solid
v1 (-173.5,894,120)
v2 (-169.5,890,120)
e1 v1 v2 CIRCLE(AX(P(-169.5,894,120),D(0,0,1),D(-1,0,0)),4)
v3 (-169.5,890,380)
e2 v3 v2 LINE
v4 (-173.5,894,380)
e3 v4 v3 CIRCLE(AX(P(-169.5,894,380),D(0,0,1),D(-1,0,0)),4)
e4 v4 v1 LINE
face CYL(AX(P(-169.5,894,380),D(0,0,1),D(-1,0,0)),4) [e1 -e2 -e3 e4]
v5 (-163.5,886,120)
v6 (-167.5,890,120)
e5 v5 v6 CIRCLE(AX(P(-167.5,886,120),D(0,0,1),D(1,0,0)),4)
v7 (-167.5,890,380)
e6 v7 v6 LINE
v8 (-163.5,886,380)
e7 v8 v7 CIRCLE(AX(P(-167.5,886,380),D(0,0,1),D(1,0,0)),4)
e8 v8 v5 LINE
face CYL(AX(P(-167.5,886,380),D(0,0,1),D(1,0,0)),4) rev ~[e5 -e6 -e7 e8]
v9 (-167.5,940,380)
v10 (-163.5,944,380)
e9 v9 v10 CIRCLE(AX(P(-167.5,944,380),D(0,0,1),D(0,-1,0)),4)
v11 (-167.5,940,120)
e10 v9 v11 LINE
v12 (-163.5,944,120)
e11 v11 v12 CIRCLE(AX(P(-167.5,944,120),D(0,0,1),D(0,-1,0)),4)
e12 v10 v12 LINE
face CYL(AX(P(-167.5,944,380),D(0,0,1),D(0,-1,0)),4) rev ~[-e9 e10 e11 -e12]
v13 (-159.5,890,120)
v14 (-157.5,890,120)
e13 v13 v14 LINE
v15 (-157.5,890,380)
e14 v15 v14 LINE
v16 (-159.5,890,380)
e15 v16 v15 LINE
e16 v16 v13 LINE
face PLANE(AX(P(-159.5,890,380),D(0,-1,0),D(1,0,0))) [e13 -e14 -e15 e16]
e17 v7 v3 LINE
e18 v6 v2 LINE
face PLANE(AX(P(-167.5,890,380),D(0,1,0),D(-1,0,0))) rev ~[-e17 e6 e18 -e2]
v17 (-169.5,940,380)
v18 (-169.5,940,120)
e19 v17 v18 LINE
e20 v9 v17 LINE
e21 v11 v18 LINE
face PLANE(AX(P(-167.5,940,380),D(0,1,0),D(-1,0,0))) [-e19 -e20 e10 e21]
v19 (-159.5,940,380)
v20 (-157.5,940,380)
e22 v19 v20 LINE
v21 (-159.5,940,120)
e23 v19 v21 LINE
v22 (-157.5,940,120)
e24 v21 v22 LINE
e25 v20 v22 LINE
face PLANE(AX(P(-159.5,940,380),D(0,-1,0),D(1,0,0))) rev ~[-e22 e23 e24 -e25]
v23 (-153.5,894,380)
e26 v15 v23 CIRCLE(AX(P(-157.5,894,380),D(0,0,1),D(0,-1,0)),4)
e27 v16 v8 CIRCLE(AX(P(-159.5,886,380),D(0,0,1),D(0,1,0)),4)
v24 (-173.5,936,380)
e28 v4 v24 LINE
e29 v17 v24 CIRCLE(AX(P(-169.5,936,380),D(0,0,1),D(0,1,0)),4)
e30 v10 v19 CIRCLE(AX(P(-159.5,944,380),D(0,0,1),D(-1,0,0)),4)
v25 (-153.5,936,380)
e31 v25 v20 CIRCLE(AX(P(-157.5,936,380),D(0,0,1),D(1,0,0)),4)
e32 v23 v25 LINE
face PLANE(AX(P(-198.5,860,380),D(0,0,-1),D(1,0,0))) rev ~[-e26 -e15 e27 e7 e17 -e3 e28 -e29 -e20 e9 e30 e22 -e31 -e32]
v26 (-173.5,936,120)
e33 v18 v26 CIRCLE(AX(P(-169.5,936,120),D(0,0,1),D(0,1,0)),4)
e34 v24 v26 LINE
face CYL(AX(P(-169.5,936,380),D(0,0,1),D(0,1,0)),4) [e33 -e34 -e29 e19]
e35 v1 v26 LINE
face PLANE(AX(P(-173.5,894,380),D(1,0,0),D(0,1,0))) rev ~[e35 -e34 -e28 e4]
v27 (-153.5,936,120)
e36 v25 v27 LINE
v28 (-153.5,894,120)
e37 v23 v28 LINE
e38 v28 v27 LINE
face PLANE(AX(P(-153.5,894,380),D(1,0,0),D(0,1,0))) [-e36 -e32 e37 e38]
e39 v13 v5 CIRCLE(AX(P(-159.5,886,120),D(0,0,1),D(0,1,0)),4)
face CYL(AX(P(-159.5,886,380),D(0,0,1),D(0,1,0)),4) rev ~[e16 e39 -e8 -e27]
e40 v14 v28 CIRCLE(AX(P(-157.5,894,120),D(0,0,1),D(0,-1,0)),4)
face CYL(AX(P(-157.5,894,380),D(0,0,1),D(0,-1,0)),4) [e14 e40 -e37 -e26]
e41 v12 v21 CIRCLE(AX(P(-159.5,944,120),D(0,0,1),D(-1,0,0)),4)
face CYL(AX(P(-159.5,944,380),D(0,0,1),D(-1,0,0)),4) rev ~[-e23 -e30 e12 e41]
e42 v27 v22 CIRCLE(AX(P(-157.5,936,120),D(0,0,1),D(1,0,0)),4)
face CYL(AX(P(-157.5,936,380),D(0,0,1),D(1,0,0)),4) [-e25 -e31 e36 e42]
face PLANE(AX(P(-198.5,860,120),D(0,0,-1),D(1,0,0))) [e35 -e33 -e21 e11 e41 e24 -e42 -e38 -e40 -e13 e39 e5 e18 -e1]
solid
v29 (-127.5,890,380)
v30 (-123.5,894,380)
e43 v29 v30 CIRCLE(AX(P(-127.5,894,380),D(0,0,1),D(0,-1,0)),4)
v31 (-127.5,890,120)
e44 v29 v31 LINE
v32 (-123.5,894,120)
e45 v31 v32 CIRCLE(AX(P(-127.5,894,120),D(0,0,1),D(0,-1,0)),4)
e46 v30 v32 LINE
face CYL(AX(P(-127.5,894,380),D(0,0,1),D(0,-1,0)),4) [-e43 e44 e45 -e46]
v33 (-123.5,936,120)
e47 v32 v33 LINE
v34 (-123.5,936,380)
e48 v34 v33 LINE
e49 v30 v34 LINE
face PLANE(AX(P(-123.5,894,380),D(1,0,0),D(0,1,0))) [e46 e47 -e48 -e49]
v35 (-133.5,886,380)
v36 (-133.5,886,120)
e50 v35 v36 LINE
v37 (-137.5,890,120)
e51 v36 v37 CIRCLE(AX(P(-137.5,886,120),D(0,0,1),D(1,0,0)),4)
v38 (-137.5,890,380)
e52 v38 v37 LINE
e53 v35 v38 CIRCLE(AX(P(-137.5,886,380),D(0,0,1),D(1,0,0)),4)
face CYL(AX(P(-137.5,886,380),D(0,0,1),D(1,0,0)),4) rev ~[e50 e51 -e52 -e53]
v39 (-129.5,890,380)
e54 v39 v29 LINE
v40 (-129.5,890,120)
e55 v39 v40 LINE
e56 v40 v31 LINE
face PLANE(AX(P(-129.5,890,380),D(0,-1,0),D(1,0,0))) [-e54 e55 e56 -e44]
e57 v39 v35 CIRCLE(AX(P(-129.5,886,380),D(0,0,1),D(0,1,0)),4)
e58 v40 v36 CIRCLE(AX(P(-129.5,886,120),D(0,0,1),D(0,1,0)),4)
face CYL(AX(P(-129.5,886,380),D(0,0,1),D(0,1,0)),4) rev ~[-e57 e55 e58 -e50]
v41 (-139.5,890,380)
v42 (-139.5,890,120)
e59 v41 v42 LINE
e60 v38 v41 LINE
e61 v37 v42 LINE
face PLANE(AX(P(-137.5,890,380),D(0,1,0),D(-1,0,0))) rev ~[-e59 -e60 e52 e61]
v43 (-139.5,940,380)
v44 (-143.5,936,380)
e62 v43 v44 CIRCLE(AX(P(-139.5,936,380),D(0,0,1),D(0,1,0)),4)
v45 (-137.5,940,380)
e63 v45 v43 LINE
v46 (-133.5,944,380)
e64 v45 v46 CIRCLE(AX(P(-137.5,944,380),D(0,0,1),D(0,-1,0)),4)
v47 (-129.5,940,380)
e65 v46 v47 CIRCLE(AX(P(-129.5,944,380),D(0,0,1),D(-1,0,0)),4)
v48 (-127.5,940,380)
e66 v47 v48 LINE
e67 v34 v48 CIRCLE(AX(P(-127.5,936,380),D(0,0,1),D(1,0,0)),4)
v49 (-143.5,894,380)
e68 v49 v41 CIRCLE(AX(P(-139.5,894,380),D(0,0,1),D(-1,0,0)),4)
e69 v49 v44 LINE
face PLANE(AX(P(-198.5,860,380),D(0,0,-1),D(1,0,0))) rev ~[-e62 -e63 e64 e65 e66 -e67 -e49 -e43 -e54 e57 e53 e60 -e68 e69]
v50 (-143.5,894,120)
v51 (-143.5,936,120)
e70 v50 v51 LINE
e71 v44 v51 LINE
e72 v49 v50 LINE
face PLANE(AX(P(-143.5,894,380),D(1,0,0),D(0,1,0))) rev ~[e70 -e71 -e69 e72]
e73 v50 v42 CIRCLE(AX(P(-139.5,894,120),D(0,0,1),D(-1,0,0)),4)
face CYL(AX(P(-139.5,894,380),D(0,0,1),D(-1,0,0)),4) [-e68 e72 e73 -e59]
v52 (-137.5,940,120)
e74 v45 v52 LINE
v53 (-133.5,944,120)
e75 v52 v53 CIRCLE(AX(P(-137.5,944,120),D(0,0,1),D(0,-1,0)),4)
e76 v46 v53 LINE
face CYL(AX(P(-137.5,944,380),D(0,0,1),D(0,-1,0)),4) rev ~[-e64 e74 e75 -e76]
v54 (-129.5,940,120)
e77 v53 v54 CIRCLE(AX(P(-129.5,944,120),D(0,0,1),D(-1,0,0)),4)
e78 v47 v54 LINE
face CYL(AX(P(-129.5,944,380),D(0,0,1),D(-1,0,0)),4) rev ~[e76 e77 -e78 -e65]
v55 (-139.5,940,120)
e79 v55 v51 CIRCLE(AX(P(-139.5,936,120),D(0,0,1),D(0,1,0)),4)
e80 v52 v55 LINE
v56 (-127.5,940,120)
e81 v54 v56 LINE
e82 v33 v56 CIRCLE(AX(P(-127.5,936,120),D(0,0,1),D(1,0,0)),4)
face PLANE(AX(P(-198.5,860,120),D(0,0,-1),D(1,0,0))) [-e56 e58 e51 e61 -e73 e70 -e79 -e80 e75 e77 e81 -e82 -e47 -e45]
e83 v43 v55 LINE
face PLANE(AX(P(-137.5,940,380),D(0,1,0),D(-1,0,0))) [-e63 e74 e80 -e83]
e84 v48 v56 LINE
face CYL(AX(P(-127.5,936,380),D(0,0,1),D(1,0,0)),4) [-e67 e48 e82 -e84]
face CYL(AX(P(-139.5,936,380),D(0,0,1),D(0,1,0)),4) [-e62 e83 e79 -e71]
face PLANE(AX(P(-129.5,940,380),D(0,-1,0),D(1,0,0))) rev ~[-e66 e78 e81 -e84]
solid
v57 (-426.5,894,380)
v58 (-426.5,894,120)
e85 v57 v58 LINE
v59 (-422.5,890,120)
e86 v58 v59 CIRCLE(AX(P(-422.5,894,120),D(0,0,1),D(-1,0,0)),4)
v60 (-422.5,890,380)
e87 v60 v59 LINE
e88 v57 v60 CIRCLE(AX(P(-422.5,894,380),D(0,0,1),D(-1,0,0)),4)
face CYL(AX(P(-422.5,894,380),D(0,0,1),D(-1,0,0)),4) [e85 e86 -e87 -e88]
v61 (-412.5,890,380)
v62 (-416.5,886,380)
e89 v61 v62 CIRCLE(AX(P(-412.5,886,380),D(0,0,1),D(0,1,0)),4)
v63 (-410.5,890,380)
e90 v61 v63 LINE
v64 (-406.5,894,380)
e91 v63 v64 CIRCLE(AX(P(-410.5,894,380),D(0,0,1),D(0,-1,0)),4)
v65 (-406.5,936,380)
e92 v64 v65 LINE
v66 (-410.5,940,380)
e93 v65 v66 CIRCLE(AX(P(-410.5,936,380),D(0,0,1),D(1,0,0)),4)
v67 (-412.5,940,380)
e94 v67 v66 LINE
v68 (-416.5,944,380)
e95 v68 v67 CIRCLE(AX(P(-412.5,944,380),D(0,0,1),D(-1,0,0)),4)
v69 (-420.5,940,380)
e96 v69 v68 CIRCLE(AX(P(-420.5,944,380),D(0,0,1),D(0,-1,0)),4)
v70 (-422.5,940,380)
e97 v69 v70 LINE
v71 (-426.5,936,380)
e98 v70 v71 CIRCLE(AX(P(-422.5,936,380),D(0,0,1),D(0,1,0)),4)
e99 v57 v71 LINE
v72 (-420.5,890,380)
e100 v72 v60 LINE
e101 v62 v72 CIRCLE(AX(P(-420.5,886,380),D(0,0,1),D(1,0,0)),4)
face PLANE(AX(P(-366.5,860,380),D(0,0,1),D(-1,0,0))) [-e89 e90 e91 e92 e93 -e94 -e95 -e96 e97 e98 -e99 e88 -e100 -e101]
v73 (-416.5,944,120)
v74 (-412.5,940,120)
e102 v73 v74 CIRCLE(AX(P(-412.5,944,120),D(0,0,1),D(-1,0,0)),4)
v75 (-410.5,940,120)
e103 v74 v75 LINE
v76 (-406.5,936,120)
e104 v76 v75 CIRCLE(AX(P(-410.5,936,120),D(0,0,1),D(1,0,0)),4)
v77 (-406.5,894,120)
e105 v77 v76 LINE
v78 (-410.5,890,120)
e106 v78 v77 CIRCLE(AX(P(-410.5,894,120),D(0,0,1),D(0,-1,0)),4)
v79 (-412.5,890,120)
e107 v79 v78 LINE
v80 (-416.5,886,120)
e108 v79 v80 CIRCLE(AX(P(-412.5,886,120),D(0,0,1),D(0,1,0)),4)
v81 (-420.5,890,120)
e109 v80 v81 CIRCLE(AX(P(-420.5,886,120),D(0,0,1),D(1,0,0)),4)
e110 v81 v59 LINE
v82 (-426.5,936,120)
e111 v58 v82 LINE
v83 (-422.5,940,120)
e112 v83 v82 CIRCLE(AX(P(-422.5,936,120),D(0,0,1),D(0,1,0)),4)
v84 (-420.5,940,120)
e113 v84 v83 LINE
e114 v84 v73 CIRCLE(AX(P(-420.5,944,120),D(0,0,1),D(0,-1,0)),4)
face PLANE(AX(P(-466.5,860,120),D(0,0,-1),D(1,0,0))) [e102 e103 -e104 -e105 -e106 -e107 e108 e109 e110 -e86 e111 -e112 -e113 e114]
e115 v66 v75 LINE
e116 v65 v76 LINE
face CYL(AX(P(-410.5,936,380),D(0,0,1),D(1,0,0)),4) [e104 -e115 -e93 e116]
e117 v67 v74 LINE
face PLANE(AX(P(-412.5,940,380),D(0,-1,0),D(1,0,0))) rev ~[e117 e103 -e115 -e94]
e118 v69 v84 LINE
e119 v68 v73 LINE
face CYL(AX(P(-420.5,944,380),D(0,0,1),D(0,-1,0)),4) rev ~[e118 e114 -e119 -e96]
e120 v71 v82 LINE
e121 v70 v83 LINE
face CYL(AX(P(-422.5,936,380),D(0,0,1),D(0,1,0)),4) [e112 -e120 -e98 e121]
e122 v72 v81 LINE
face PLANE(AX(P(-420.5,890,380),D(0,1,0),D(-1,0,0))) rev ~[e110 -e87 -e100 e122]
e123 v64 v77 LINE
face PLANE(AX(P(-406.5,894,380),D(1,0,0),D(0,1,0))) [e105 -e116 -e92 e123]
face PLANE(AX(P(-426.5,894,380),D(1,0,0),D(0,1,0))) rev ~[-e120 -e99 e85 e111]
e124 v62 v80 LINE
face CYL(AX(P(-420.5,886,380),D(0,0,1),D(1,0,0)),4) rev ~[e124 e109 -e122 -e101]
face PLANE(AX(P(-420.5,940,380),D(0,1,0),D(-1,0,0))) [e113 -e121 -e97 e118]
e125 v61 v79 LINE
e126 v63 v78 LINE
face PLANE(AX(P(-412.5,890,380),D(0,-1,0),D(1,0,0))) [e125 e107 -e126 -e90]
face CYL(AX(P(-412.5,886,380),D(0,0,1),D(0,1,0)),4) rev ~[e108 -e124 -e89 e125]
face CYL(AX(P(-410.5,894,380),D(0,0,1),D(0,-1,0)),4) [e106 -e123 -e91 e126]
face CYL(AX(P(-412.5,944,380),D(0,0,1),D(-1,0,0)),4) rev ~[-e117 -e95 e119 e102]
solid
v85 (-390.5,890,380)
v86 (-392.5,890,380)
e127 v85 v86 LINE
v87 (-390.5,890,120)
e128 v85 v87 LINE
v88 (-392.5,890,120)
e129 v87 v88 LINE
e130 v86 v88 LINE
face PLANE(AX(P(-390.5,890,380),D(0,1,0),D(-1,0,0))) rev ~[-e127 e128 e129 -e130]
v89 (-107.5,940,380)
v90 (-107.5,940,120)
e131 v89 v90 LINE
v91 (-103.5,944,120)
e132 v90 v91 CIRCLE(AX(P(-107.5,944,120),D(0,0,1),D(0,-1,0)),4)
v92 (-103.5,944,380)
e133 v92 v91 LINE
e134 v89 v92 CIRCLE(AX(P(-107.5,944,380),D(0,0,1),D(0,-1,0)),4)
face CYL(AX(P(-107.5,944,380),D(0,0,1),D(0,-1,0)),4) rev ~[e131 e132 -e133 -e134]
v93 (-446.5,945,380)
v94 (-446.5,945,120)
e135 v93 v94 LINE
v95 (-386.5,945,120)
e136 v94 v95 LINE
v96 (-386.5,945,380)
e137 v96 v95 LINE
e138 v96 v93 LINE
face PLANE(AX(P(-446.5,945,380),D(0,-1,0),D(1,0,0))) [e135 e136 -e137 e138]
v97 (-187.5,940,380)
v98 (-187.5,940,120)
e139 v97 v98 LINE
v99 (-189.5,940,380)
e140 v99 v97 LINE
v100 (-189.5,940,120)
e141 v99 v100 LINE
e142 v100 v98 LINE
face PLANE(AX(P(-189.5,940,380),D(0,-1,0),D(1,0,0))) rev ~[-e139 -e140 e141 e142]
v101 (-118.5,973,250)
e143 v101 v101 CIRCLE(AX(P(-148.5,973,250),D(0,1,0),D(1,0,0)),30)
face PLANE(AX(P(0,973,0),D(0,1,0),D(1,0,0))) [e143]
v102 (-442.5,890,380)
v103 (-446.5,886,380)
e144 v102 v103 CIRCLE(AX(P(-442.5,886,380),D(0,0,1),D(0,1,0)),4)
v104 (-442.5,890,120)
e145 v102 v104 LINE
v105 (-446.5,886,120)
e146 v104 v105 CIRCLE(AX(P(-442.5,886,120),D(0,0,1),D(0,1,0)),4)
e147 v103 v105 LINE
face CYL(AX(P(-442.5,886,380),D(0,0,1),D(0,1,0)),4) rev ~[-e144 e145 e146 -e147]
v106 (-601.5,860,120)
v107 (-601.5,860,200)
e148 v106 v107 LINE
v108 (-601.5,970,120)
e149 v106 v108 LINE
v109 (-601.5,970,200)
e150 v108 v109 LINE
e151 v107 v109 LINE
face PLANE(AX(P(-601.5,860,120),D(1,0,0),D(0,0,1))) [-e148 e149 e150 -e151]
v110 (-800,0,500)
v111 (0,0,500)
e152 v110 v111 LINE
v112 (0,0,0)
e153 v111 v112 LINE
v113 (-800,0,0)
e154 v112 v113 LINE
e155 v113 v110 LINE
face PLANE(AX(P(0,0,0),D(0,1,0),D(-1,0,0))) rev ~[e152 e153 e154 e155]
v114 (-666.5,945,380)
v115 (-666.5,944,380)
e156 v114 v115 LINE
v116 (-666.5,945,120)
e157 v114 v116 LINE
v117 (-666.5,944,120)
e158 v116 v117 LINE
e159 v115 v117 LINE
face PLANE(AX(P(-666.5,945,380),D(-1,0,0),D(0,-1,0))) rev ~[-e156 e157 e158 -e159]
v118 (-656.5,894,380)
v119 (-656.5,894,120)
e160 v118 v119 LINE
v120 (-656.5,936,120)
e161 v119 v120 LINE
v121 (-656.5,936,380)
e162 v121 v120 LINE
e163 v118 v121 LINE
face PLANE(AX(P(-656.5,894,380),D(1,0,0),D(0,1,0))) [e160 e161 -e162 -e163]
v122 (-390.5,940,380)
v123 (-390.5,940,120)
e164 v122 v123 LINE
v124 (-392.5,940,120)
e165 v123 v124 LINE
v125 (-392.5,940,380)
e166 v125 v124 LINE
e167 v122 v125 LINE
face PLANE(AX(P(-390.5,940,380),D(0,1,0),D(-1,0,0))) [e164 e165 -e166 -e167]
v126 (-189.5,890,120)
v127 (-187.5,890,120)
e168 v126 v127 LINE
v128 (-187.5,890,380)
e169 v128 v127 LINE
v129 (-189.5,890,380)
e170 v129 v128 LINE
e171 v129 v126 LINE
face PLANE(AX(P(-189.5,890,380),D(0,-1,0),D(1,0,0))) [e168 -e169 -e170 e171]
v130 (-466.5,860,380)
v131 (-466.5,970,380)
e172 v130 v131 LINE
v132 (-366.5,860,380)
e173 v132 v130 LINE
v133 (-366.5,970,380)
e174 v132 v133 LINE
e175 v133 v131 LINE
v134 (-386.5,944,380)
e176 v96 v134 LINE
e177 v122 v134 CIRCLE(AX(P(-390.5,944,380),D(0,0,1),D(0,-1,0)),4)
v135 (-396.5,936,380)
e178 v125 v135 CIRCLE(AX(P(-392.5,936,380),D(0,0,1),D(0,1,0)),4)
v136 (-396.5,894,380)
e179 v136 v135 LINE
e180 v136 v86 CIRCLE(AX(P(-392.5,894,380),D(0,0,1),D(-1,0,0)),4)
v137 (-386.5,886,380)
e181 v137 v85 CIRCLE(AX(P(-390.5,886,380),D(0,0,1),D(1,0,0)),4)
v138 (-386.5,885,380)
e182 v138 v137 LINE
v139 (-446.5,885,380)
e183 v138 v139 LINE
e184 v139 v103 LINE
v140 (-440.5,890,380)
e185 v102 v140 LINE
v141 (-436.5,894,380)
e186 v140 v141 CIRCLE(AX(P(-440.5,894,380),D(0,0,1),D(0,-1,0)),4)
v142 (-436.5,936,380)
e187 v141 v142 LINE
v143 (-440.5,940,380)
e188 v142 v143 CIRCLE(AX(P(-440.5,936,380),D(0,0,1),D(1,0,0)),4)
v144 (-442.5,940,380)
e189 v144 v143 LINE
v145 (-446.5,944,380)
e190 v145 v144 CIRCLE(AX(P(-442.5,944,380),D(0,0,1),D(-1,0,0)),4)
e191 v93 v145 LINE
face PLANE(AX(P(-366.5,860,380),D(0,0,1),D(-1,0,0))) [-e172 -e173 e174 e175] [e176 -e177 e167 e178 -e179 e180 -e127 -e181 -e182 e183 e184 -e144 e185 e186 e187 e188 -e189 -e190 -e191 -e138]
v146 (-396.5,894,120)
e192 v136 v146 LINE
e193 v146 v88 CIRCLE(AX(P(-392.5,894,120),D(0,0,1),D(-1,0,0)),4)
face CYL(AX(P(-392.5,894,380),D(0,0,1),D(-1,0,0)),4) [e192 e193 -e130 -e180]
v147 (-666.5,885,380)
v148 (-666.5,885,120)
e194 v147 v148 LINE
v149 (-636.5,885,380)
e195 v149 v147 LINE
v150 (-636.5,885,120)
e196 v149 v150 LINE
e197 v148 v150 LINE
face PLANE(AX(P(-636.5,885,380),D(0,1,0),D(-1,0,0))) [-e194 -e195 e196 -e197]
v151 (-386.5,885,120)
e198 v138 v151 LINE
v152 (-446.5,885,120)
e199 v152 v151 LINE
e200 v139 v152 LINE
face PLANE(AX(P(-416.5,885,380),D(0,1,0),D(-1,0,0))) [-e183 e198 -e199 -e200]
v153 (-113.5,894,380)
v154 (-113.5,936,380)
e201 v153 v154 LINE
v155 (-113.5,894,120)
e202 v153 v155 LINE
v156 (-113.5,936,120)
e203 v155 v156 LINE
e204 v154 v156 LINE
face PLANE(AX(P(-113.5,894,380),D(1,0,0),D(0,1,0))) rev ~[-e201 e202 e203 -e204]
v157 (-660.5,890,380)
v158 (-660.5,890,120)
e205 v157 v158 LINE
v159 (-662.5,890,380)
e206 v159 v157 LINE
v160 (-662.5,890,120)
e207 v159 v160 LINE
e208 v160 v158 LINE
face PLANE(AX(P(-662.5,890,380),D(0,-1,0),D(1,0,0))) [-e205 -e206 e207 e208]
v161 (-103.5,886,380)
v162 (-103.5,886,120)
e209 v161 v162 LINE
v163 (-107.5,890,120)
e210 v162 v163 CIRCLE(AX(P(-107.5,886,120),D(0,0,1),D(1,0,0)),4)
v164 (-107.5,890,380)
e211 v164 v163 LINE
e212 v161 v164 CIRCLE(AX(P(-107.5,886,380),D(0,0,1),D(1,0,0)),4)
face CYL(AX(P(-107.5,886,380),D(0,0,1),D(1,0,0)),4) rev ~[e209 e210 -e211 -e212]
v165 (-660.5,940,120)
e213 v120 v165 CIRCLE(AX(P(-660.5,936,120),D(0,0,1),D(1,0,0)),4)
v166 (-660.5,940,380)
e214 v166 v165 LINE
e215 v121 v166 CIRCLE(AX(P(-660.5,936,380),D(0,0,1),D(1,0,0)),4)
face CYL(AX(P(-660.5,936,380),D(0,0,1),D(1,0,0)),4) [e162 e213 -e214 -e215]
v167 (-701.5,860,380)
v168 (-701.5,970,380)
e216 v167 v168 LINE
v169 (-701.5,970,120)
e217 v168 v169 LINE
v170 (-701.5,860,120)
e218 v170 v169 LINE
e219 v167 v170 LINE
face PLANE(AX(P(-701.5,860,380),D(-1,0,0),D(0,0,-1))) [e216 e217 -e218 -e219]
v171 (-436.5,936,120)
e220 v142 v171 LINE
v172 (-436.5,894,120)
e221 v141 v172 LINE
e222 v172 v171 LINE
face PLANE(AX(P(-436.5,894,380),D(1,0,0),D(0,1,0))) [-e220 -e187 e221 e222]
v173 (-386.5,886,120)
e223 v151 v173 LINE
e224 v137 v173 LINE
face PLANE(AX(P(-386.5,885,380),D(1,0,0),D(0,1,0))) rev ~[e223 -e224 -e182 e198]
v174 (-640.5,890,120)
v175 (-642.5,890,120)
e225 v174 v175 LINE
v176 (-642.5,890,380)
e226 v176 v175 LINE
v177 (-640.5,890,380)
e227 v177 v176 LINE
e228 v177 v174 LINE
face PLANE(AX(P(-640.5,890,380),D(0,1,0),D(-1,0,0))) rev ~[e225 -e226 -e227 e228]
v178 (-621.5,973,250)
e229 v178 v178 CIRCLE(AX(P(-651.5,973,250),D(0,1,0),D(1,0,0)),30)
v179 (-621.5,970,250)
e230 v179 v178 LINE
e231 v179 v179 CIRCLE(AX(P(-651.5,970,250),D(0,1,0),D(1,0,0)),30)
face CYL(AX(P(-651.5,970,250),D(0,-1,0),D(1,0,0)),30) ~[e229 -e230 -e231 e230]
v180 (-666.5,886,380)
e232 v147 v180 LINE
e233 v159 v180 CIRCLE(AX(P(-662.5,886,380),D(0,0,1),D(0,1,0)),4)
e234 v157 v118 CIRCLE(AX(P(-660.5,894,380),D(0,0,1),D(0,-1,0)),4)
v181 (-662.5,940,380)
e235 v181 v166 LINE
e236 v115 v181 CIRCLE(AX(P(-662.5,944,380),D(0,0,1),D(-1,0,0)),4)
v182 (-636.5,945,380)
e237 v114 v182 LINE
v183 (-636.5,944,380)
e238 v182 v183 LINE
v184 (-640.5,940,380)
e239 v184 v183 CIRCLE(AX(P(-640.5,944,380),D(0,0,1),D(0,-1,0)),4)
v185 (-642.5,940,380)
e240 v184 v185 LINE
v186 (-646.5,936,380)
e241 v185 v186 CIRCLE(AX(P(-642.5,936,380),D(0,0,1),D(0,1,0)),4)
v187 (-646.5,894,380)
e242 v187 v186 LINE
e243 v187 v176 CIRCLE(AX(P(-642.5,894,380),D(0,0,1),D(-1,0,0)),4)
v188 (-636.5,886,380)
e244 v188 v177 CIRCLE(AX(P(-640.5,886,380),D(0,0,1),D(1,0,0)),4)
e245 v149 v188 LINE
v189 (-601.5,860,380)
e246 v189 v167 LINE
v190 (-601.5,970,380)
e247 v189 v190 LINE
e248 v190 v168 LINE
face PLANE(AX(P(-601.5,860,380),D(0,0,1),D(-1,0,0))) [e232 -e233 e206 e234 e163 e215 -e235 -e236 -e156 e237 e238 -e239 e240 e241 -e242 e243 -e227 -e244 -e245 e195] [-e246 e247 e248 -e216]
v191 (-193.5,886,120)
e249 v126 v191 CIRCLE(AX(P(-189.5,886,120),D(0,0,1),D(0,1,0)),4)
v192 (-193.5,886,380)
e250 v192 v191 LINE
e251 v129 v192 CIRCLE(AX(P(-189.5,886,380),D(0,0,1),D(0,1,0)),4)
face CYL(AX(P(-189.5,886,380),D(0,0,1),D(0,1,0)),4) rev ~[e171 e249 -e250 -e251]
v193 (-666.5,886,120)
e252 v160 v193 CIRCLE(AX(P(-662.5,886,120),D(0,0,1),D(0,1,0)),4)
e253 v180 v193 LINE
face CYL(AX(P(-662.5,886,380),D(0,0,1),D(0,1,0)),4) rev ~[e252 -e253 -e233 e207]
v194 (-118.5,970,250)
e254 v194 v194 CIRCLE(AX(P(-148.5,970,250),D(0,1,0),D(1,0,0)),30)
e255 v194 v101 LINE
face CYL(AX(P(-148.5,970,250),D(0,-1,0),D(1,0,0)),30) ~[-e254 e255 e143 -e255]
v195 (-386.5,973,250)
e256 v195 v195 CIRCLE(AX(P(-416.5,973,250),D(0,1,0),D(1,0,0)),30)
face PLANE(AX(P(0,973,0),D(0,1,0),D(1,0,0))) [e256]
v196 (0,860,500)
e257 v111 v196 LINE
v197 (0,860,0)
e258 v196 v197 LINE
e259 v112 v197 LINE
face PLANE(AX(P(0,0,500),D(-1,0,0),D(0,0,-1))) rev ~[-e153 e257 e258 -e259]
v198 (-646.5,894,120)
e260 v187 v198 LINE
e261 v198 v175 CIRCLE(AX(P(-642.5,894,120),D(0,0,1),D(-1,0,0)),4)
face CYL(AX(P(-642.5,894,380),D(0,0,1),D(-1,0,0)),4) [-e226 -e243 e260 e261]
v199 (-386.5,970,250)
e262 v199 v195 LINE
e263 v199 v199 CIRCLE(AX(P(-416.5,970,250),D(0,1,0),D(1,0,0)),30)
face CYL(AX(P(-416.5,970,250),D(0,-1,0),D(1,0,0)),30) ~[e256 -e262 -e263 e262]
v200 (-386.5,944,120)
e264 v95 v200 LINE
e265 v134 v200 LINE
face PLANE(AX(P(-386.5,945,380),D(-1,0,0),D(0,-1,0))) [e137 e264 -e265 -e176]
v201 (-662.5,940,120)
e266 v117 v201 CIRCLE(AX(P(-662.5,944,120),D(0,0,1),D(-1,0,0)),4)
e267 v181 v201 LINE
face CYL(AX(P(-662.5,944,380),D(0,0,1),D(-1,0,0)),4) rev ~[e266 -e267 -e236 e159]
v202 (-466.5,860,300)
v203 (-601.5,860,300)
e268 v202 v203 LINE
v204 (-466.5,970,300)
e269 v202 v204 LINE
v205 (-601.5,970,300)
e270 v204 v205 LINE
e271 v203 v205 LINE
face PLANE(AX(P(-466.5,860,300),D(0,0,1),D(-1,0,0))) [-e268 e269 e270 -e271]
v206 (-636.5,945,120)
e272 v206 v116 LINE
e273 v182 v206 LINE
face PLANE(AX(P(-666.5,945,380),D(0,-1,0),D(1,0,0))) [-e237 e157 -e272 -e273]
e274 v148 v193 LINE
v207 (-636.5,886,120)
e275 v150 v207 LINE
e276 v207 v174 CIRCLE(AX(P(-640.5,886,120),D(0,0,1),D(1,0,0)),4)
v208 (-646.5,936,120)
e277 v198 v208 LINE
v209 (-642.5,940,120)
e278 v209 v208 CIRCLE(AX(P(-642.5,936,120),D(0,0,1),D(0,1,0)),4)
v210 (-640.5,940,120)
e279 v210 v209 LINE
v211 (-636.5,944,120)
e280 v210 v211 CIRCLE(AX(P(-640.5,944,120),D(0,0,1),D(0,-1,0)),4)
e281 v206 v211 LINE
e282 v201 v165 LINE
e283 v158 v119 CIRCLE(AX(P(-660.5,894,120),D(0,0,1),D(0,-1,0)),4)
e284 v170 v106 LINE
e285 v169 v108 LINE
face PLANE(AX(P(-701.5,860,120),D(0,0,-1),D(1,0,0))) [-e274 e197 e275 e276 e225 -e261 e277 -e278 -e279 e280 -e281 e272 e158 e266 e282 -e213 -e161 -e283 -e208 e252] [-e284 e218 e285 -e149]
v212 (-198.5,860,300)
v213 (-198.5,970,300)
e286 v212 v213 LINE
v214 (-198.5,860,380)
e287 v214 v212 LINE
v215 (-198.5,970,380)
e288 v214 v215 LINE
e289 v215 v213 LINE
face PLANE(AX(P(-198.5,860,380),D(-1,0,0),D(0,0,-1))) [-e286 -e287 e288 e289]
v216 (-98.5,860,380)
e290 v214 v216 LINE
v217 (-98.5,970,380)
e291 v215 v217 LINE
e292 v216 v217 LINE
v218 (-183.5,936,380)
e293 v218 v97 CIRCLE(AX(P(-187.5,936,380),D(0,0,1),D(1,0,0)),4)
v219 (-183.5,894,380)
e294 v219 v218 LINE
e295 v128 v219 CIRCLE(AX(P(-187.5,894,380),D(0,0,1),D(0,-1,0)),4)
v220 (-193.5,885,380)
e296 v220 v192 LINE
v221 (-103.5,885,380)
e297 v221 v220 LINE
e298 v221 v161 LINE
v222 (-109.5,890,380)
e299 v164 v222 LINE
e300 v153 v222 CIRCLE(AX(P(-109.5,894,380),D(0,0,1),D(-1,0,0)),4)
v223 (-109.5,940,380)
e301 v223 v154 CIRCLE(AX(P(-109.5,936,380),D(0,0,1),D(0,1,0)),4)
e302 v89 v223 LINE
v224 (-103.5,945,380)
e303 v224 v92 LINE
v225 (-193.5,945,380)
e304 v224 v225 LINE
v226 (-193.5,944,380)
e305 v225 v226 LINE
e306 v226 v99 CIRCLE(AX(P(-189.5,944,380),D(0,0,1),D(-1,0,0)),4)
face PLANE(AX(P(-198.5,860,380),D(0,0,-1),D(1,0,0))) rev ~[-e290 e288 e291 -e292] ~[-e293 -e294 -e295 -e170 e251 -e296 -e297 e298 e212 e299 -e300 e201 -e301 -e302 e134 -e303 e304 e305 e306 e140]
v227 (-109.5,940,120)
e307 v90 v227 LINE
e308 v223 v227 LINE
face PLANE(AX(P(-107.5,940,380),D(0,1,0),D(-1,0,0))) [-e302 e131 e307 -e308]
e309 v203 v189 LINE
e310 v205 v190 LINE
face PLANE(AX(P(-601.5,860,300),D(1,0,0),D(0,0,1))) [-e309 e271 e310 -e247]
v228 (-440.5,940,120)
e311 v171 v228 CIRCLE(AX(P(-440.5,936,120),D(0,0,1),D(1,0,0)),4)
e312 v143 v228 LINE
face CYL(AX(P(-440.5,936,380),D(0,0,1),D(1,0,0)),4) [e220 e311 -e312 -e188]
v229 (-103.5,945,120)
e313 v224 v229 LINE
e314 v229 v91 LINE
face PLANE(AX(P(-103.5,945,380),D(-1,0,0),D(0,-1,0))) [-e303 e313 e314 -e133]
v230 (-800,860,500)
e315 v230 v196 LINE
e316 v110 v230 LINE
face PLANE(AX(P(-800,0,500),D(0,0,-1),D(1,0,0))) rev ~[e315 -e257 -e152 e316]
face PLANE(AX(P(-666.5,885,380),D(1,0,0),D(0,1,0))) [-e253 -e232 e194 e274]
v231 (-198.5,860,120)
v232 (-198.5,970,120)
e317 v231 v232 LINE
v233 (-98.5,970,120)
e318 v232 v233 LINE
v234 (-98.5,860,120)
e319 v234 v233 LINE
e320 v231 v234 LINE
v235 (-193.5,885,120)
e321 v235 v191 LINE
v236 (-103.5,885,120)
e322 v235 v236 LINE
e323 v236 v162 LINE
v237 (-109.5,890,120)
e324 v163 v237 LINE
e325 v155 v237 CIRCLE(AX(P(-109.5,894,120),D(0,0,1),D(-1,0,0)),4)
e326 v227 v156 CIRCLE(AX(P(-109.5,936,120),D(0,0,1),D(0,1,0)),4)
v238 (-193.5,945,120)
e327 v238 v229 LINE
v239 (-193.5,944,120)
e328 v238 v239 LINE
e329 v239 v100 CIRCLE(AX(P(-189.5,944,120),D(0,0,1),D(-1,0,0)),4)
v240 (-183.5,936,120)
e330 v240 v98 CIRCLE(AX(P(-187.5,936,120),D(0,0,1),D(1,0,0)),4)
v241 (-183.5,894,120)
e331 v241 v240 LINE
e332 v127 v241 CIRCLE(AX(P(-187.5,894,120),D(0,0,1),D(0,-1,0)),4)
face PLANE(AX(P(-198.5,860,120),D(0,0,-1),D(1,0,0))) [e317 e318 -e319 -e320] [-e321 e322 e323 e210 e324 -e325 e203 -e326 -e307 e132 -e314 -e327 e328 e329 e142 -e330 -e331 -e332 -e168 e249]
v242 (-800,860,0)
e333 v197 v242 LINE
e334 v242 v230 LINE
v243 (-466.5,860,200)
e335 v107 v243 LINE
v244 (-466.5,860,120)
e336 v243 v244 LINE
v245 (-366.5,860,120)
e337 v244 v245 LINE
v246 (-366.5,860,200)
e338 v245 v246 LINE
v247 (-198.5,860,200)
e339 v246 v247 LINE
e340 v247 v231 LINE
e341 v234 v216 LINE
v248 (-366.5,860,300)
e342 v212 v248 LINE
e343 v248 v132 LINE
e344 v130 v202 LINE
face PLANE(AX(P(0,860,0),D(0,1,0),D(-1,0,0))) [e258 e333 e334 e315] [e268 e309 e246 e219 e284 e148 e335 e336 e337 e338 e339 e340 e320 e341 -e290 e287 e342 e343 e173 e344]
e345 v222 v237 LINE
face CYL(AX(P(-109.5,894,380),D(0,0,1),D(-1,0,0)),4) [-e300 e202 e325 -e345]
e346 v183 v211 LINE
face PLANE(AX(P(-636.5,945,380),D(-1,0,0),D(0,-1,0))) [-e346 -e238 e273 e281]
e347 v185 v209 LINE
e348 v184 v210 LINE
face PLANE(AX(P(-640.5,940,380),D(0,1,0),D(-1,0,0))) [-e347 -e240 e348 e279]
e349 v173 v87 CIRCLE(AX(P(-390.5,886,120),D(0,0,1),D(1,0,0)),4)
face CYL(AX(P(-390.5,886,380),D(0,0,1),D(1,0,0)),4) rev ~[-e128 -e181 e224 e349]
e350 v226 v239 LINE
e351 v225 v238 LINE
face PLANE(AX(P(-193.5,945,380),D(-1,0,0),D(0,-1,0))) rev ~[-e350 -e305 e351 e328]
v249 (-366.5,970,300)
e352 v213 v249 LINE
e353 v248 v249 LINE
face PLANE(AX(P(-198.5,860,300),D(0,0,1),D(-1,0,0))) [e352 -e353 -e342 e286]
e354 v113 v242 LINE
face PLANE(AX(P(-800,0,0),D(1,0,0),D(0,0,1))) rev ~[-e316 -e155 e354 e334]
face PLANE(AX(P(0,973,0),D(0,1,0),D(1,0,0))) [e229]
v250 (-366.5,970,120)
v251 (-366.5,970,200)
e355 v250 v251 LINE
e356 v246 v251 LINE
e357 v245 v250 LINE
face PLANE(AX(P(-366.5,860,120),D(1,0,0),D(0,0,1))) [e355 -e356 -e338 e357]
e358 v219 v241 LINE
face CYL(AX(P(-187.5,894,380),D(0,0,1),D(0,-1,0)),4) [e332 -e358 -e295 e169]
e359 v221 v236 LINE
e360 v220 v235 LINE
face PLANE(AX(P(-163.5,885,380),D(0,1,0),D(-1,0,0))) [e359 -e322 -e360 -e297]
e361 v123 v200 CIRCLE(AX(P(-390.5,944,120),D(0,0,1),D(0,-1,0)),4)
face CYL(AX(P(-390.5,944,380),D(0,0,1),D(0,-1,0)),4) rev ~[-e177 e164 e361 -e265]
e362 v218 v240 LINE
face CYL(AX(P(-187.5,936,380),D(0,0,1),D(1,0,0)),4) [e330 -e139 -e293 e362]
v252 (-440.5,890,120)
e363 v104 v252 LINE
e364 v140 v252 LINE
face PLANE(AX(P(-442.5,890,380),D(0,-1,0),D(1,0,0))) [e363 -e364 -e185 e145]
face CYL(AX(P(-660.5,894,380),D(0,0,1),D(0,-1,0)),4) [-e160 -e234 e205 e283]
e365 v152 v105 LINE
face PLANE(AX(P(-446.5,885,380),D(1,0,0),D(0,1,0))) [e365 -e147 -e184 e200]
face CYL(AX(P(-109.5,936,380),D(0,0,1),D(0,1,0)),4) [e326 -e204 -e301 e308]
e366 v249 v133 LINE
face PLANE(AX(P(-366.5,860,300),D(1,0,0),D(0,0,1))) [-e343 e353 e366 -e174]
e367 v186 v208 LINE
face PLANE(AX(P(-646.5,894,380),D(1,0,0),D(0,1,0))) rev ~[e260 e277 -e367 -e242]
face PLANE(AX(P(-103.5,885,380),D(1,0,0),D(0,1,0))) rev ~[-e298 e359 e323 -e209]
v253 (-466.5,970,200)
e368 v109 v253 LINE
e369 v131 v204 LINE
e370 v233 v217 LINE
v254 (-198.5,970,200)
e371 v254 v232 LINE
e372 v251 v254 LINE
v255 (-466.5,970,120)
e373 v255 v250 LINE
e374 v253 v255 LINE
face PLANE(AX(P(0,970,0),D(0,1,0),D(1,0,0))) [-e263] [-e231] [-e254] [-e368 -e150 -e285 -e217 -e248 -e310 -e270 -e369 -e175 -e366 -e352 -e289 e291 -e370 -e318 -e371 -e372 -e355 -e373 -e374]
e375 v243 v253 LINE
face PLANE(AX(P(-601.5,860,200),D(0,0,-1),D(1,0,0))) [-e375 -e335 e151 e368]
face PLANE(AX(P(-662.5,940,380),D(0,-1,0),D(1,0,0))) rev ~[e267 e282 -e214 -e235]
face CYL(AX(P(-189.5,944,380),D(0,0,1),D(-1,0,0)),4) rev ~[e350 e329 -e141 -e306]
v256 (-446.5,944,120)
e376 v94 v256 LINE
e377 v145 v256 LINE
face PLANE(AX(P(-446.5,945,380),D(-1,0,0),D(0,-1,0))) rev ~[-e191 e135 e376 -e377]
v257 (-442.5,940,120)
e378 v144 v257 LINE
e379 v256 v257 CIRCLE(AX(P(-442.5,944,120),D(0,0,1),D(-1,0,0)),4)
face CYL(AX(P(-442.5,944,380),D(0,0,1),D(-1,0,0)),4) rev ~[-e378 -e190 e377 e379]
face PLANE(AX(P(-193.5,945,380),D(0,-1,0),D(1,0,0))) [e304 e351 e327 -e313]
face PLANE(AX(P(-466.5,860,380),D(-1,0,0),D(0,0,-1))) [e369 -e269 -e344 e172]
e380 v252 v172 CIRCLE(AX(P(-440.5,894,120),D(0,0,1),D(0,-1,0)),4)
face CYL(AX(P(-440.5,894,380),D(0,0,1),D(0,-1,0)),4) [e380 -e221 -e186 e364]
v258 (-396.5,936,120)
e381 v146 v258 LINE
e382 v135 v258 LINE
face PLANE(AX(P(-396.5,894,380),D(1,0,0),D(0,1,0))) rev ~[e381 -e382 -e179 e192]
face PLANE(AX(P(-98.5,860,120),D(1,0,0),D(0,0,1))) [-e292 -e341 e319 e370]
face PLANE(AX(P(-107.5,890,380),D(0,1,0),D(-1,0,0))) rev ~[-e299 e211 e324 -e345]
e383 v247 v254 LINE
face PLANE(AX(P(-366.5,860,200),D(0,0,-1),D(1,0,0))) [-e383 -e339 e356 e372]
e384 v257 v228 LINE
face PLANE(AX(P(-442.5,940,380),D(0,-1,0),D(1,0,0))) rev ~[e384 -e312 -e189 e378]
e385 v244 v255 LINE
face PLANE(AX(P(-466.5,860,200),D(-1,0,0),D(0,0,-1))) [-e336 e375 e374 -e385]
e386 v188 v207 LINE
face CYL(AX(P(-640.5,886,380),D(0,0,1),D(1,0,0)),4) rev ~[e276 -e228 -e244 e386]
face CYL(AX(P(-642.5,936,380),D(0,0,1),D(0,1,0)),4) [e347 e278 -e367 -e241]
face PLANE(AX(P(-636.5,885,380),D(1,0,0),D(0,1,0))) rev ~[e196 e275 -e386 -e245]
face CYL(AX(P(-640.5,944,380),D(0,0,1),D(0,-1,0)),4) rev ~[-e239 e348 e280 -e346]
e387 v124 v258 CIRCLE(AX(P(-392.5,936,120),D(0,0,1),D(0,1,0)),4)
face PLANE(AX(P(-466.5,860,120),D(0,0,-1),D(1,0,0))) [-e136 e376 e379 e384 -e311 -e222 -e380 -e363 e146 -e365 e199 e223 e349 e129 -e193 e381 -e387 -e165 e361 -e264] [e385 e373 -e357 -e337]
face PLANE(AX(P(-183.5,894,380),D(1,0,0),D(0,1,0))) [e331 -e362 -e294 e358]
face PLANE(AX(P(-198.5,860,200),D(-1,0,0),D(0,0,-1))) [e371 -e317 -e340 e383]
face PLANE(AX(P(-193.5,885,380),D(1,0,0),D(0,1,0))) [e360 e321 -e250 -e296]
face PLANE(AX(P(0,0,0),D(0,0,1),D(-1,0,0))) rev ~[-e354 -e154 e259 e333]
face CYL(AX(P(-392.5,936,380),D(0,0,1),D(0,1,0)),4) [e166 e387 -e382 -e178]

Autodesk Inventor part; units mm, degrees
ref_plane "YZ Plane" through (0, 0, 0) normal (1, 0, 0) x (0, 1, 0)
ref_plane "XZ Plane" through (0, 0, 0) normal (0, 1, 0) x (-1, 0, 0)
ref_plane "XY Plane" through (0, 0, 0) normal (0, 0, 1) x (1, 0, 0)
sketch "Boceto1" plane through (0, 0, 0) normal (0, 1, 0) x (-1, 0, 0)
  line L0 (0, 0) -> (800, 0)
  line L1 (800, 0) -> (800, 500)
  line L2 (800, 500) -> (0, 500)
  line L3 (0, 500) -> (0, 0)
  dimension "d0" = 800
  dimension "d1" = 500
extrude "Extrusión1" add sketch "Boceto1" along normal blind 860
sketch "Boceto2" plane through (0, 860, 0) normal (0, 1, 0) x (1, 0, 0)
  line L0 (-800, 0) -> (-800, -500) construction
  line L1 (-800, -500) -> (0, -500) construction
  line L2 (0, -500) -> (0, 0) construction
  line L3 (0, 0) -> (-800, 0) construction
  line L4 (0, -500) -> (0, 0) construction
  line L5 (0, -250) -> (-800, -250) construction
  line L6 (-800, 0) -> (-800, -500) construction
  line L7 (-800, -250) -> (-651.5, -250) construction
  line L8 (-651.5, -250) -> (-701.5, -250) construction
  line L9 (-701.5, -250) -> (-701.5, -120) construction
  line L10 (-701.5, -120) -> (-651.5, -120) construction
  line L11 (-651.5, -120) -> (-651.5, -250) construction
  line L12 (-651.5, -250) -> (-148.5, -250) construction
  line L13 (-148.5, -250) -> (-98.5, -250) construction
  line L14 (-98.5, -250) -> (-98.5, -380) construction
  line L15 (-98.5, -380) -> (-148.5, -380) construction
  line L16 (-148.5, -380) -> (-148.5, -250) construction
  line L17 (-98.5, -380) -> (-701.5, -380) construction
  line L18 (-701.5, -380) -> (-701.5, -120) construction
  line L19 (-701.5, -120) -> (-98.5, -120) construction
  line L20 (-98.5, -120) -> (-98.5, -380) construction
  line L21 (-651.5, -250) -> (-416.5, -250) construction
  line L22 (-416.5, -250) -> (-148.5, -250) construction
  line L23 (-701.5, -120) -> (-601.5, -120) construction
  line L24 (-601.5, -120) -> (-601.5, -380) construction
  line L25 (-601.5, -380) -> (-701.5, -380) construction
  line L26 (-701.5, -380) -> (-701.5, -120) construction
  line L27 (-416.5, -250) -> (-466.5, -250) construction
  line L28 (-466.5, -250) -> (-466.5, -120) construction
  line L29 (-466.5, -120) -> (-416.5, -120) construction
  line L30 (-416.5, -120) -> (-416.5, -250) construction
  line L31 (-466.5, -120) -> (-366.5, -120) construction
  line L32 (-366.5, -120) -> (-366.5, -380) construction
  line L33 (-366.5, -380) -> (-466.5, -380) construction
  line L34 (-466.5, -380) -> (-466.5, -120) construction
  line L35 (-98.5, -380) -> (-198.5, -380) construction
  line L36 (-198.5, -380) -> (-198.5, -120) construction
  line L37 (-198.5, -120) -> (-98.5, -120) construction
  line L38 (-98.5, -120) -> (-98.5, -380) construction
  line L39 (-701.5, -250) -> (-701.5, -200) construction
  line L40 (-701.5, -200) -> (-98.5, -200) construction
  line L41 (-98.5, -200) -> (-98.5, -300) construction
  line L42 (-98.5, -300) -> (-701.5, -300) construction
  line L43 (-701.5, -300) -> (-701.5, -200) construction
  line L44 (-701.5, -120) -> (-601.5, -120)
  line L45 (-601.5, -120) -> (-601.5, -200)
  line L46 (-601.5, -200) -> (-466.5, -200)
  line L47 (-466.5, -200) -> (-466.5, -120)
  line L48 (-466.5, -120) -> (-366.5, -120)
  line L49 (-366.5, -120) -> (-366.5, -200)
  line L50 (-366.5, -200) -> (-198.5, -200)
  line L51 (-198.5, -200) -> (-198.5, -120)
  line L52 (-198.5, -120) -> (-98.5, -120)
  line L53 (-98.5, -120) -> (-98.5, -380)
  line L54 (-198.5, -380) -> (-98.5, -380)
  line L55 (-198.5, -380) -> (-198.5, -300)
  line L56 (-198.5, -300) -> (-366.5, -300)
  line L57 (-366.5, -300) -> (-366.5, -380)
  line L58 (-366.5, -380) -> (-466.5, -380)
  line L59 (-466.5, -380) -> (-466.5, -300)
  line L60 (-466.5, -300) -> (-601.5, -300)
  line L61 (-601.5, -300) -> (-601.5, -380)
  line L62 (-601.5, -380) -> (-701.5, -380)
  line L63 (-701.5, -380) -> (-701.5, -120)
  dimension "d8" = 148.5
  dimension "d71" = 50
  dimension "d72" = 130
  dimension "d73" = 503
  dimension "d74" = 148.5
  dimension "d75" = 50
  dimension "d76" = 130
  dimension "d77" = 235
  dimension "d78" = 268
  dimension "d79" = 100
  dimension "d80" = 260
  dimension "d81" = 50
  dimension "d82" = 130
  dimension "d83" = 100
  dimension "d84" = 260
  dimension "d85" = 100
  dimension "d86" = 260
  dimension "d87" = 50
  dimension "d88" = 100
extrude "Extrusión4" add sketch "Boceto2" along normal blind 110
sketch "Boceto5" plane through (-701.5, 860, 380) normal (0, 0, 1) x (1, 0, 0)
  line L0 (100, 0) -> (0, 0) construction
  line L1 (100, 0) -> (100, 110) construction
  line L2 (0, 110) -> (100, 110) construction
  line L3 (0, 0) -> (0, 110) construction
  line L4 (335, 0) -> (235, 0) construction
  line L5 (335, 0) -> (335, 110) construction
  line L6 (235, 110) -> (335, 110) construction
  line L7 (235, 0) -> (235, 110) construction
  line L8 (603, 0) -> (503, 0) construction
  line L9 (603, 0) -> (603, 110) construction
  line L10 (503, 110) -> (603, 110) construction
  line L11 (503, 0) -> (503, 110) construction
  line L12 (100, 110) -> (0, 110) construction
  line L13 (603, 0) -> (603, 110) construction
  line L14 (0, 110) -> (603, 110) construction
  line L15 (603, 110) -> (603, 85) construction
  line L16 (603, 85) -> (0, 85) construction
  line L17 (0, 85) -> (0, 110) construction
  line L18 (0, 0) -> (0, 110) construction
  line L19 (603, 0) -> (0, 0) construction
  line L20 (0, 0) -> (0, 25) construction
  line L21 (0, 25) -> (603, 25) construction
  line L22 (603, 25) -> (603, 0) construction
  line L23 (50, 25) -> (50, 85) construction
  line L24 (285, 25) -> (285, 85) construction
  line L25 (553, 25) -> (553, 85) construction
  line L26 (50, 25) -> (35, 25) construction
  line L27 (35, 25) -> (35, 26)
  line L28 (39, 30) -> (41, 30)
  line L29 (50, 30) -> (50, 25) construction
  line L30 (50, 25) -> (45, 25) construction
  line L31 (45, 34) -> (45, 76)
  line L32 (45, 85) -> (50, 85) construction
  line L33 (50, 85) -> (50, 25) construction
  line L34 (50, 85) -> (35, 85) construction
  line L35 (35, 85) -> (35, 84)
  line L36 (39, 80) -> (41, 80)
  line L37 (50, 80) -> (50, 85) construction
  arc A0 (45, 76) -> (41, 80) centre (41, 76) ccw
  arc A1 (35, 84) -> (39, 80) centre (39, 84) ccw
  arc A2 (41, 30) -> (45, 34) centre (41, 34) ccw
  arc A3 (39, 30) -> (35, 26) centre (39, 26) ccw
  line L38 (35, 85) -> (50, 85)
  line L39 (35, 25) -> (50, 25)
  line L40 (50, 25) -> (65, 25) construction
  line L41 (65, 25) -> (65, 26)
  line L42 (61, 30) -> (59, 30)
  line L43 (50, 25) -> (55, 25) construction
  line L44 (55, 34) -> (55, 76)
  line L45 (55, 85) -> (50, 85) construction
  line L46 (50, 85) -> (65, 85) construction
  line L47 (65, 85) -> (65, 84)
  line L48 (61, 80) -> (59, 80)
  arc A4 (59, 80) -> (55, 76) centre (59, 76) ccw
  arc A5 (61, 80) -> (65, 84) centre (61, 84) ccw
  arc A6 (55, 34) -> (59, 30) centre (59, 34) ccw
  arc A7 (65, 26) -> (61, 30) centre (61, 26) ccw
  line L49 (65, 85) -> (50, 85)
  line L50 (65, 25) -> (50, 25)
  line L51 (553, 25) -> (553, 85) construction
  line L52 (553, 25) -> (538, 25) construction
  line L53 (538, 25) -> (538, 26)
  line L54 (542, 30) -> (544, 30)
  line L55 (553, 30) -> (553, 25) construction
  line L56 (553, 25) -> (548, 25) construction
  line L57 (548, 34) -> (548, 76)
  line L58 (548, 85) -> (553, 85) construction
  line L59 (553, 85) -> (553, 25) construction
  line L60 (553, 85) -> (538, 85) construction
  line L61 (538, 85) -> (538, 84)
  line L62 (542, 80) -> (544, 80)
  line L63 (553, 80) -> (553, 85) construction
  arc A8 (548, 76) -> (544, 80) centre (544, 76) ccw
  arc A9 (538, 84) -> (542, 80) centre (542, 84) ccw
  arc A10 (544, 30) -> (548, 34) centre (544, 34) ccw
  arc A11 (542, 30) -> (538, 26) centre (542, 26) ccw
  line L64 (538, 85) -> (553, 85)
  line L65 (538, 25) -> (553, 25)
  line L66 (558, 34) -> (558, 76)
  line L67 (553, 25) -> (558, 25) construction
  arc A12 (558, 34) -> (562, 30) centre (562, 34) ccw
  line L68 (564, 30) -> (562, 30)
  line L69 (568, 25) -> (568, 26)
  line L70 (553, 25) -> (568, 25) construction
  line L71 (568, 25) -> (553, 25)
  arc A13 (568, 26) -> (564, 30) centre (564, 26) ccw
  arc A14 (562, 80) -> (558, 76) centre (562, 76) ccw
  line L72 (564, 80) -> (562, 80)
  arc A15 (564, 80) -> (568, 84) centre (564, 84) ccw
  line L73 (558, 85) -> (553, 85) construction
  line L74 (553, 85) -> (568, 85) construction
  line L75 (568, 85) -> (553, 85)
  line L76 (568, 85) -> (568, 84)
  line L77 (300, 25) -> (300, 85) construction
  line L78 (300, 25) -> (285, 25) construction
  line L79 (285, 25) -> (285, 26)
  line L80 (289, 30) -> (291, 30)
  line L81 (300, 30) -> (300, 25) construction
  line L82 (300, 25) -> (295, 25) construction
  line L83 (295, 34) -> (295, 76)
  line L84 (295, 85) -> (300, 85) construction
  line L85 (300, 85) -> (300, 25) construction
  line L86 (300, 85) -> (285, 85) construction
  line L87 (285, 85) -> (285, 84)
  line L88 (289, 80) -> (291, 80)
  line L89 (300, 80) -> (300, 85) construction
  arc A16 (295, 76) -> (291, 80) centre (291, 76) ccw
  arc A17 (285, 84) -> (289, 80) centre (289, 84) ccw
  arc A18 (291, 30) -> (295, 34) centre (291, 34) ccw
  arc A19 (289, 30) -> (285, 26) centre (289, 26) ccw
  line L90 (285, 85) -> (300, 85)
  line L91 (285, 25) -> (300, 25)
  line L92 (305, 34) -> (305, 76)
  line L93 (300, 25) -> (305, 25) construction
  arc A20 (305, 34) -> (309, 30) centre (309, 34) ccw
  line L94 (311, 30) -> (309, 30)
  line L95 (315, 25) -> (315, 26)
  line L96 (300, 25) -> (315, 25) construction
  line L97 (315, 25) -> (300, 25)
  arc A21 (315, 26) -> (311, 30) centre (311, 26) ccw
  arc A22 (309, 80) -> (305, 76) centre (309, 76) ccw
  line L98 (311, 80) -> (309, 80)
  arc A23 (311, 80) -> (315, 84) centre (311, 84) ccw
  line L99 (305, 85) -> (300, 85) construction
  line L100 (300, 85) -> (315, 85) construction
  line L101 (315, 85) -> (300, 85)
  line L102 (315, 85) -> (315, 84)
  line L103 (583, 25) -> (583, 85) construction
  line L104 (583, 25) -> (568, 25) construction
  line L105 (568, 25) -> (568, 26)
  line L106 (572, 30) -> (574, 30)
  line L107 (583, 30) -> (583, 25) construction
  line L108 (583, 25) -> (578, 25) construction
  line L109 (578, 34) -> (578, 76)
  line L110 (578, 85) -> (583, 85) construction
  line L111 (583, 85) -> (583, 25) construction
  line L112 (583, 85) -> (568, 85) construction
  line L113 (568, 85) -> (568, 84)
  line L114 (572, 80) -> (574, 80)
  line L115 (583, 80) -> (583, 85) construction
  arc A24 (578, 76) -> (574, 80) centre (574, 76) ccw
  arc A25 (568, 84) -> (572, 80) centre (572, 84) ccw
  arc A26 (574, 30) -> (578, 34) centre (574, 34) ccw
  arc A27 (572, 30) -> (568, 26) centre (572, 26) ccw
  line L116 (568, 85) -> (583, 85)
  line L117 (568, 25) -> (583, 25)
  line L118 (588, 34) -> (588, 76)
  line L119 (583, 25) -> (588, 25) construction
  arc A28 (588, 34) -> (592, 30) centre (592, 34) ccw
  line L120 (594, 30) -> (592, 30)
  line L121 (598, 25) -> (598, 26)
  line L122 (583, 25) -> (598, 25) construction
  line L123 (598, 25) -> (583, 25)
  arc A29 (598, 26) -> (594, 30) centre (594, 26) ccw
  arc A30 (592, 80) -> (588, 76) centre (592, 76) ccw
  line L124 (594, 80) -> (592, 80)
  arc A31 (594, 80) -> (598, 84) centre (594, 84) ccw
  line L125 (588, 85) -> (583, 85) construction
  line L126 (583, 85) -> (598, 85) construction
  line L127 (598, 85) -> (583, 85)
  line L128 (598, 85) -> (598, 84)
  line L129 (270, 25) -> (270, 85) construction
  line L130 (270, 25) -> (255, 25) construction
  line L131 (255, 25) -> (255, 26)
  line L132 (259, 30) -> (261, 30)
  line L133 (270, 30) -> (270, 25) construction
  line L134 (270, 25) -> (265, 25) construction
  line L135 (265, 34) -> (265, 76)
  line L136 (265, 85) -> (270, 85) construction
  line L137 (270, 85) -> (270, 25) construction
  line L138 (270, 85) -> (255, 85) construction
  line L139 (255, 85) -> (255, 84)
  line L140 (259, 80) -> (261, 80)
  line L141 (270, 80) -> (270, 85) construction
  arc A32 (265, 76) -> (261, 80) centre (261, 76) ccw
  arc A33 (255, 84) -> (259, 80) centre (259, 84) ccw
  arc A34 (261, 30) -> (265, 34) centre (261, 34) ccw
  arc A35 (259, 30) -> (255, 26) centre (259, 26) ccw
  line L142 (255, 85) -> (270, 85)
  line L143 (255, 25) -> (270, 25)
  line L144 (275, 34) -> (275, 76)
  line L145 (270, 25) -> (275, 25) construction
  arc A36 (275, 34) -> (279, 30) centre (279, 34) ccw
  line L146 (281, 30) -> (279, 30)
  line L147 (285, 25) -> (285, 26)
  line L148 (270, 25) -> (285, 25) construction
  line L149 (285, 25) -> (270, 25)
  arc A37 (285, 26) -> (281, 30) centre (281, 26) ccw
  arc A38 (279, 80) -> (275, 76) centre (279, 76) ccw
  line L150 (281, 80) -> (279, 80)
  arc A39 (281, 80) -> (285, 84) centre (281, 84) ccw
  line L151 (275, 85) -> (270, 85) construction
  line L152 (270, 85) -> (285, 85) construction
  line L153 (285, 85) -> (270, 85)
  line L154 (285, 85) -> (285, 84)
  line L155 (523, 25) -> (523, 85) construction
  line L156 (523, 25) -> (508, 25) construction
  line L157 (508, 25) -> (508, 26)
  line L158 (512, 30) -> (514, 30)
  line L159 (523, 30) -> (523, 25) construction
  line L160 (523, 25) -> (518, 25) construction
  line L161 (518, 34) -> (518, 76)
  line L162 (518, 85) -> (523, 85) construction
  line L163 (523, 85) -> (523, 25) construction
  line L164 (523, 85) -> (508, 85) construction
  line L165 (508, 85) -> (508, 84)
  line L166 (512, 80) -> (514, 80)
  line L167 (523, 80) -> (523, 85) construction
  arc A40 (518, 76) -> (514, 80) centre (514, 76) ccw
  arc A41 (508, 84) -> (512, 80) centre (512, 84) ccw
  arc A42 (514, 30) -> (518, 34) centre (514, 34) ccw
  arc A43 (512, 30) -> (508, 26) centre (512, 26) ccw
  line L168 (508, 85) -> (523, 85)
  line L169 (508, 25) -> (523, 25)
  line L170 (528, 34) -> (528, 76)
  line L171 (523, 25) -> (528, 25) construction
  arc A44 (528, 34) -> (532, 30) centre (532, 34) ccw
  line L172 (534, 30) -> (532, 30)
  line L173 (538, 25) -> (538, 26)
  line L174 (523, 25) -> (538, 25) construction
  line L175 (538, 25) -> (523, 25)
  arc A45 (538, 26) -> (534, 30) centre (534, 26) ccw
  arc A46 (532, 80) -> (528, 76) centre (532, 76) ccw
  line L176 (534, 80) -> (532, 80)
  arc A47 (534, 80) -> (538, 84) centre (534, 84) ccw
  line L177 (528, 85) -> (523, 85) construction
  line L178 (523, 85) -> (538, 85) construction
  line L179 (538, 85) -> (523, 85)
  line L180 (538, 85) -> (538, 84)
  point P0 (701.5, -860)
  point P1 (35, 30)
  point P2 (35, 80)
  point P3 (65, 30)
  point P4 (65, 80)
  point P5 (538, 30)
  point P6 (538, 80)
  point P7 (568, 30)
  point P8 (568, 80)
  point P9 (285, 30)
  point P10 (285, 80)
  point P11 (315, 30)
  point P12 (315, 80)
  point P13 (568, 30)
  point P14 (568, 80)
  point P15 (598, 30)
  point P16 (598, 80)
  point P17 (255, 30)
  point P18 (255, 80)
  point P19 (285, 30)
  point P20 (285, 80)
  point P21 (508, 30)
  point P22 (508, 80)
  point P23 (538, 30)
  point P24 (538, 80)
  point P25 (568, 26)
  point P26 (568, 84)
  point P27 (538, 84)
  point P28 (538, 26)
  point P29 (285, 26)
  point P30 (285, 84)
  dimension "d91" = 110
  dimension "d92" = 25
  dimension "d93" = 25
  dimension "d94" = 15
  dimension "d95" = 5
  dimension "d96" = 5
  dimension "d97" = 15
  dimension "d98" = 5
  dimension "d99" = 4
  dimension "d100" = 35
  dimension "d101" = 15
  dimension "d102" = 5
  dimension "d103" = 5
  dimension "d104" = 15
  dimension "d105" = 5
  dimension "d106" = 4
  dimension "d107" = 15
  dimension "d108" = 5
  dimension "d109" = 5
  dimension "d110" = 15
  dimension "d111" = 5
  dimension "d112" = 4
  dimension "d113" = 15
  dimension "d114" = 5
  dimension "d115" = 5
  dimension "d116" = 15
  dimension "d117" = 5
  dimension "d118" = 4
  dimension "d119" = 15
  dimension "d120" = 5
  dimension "d121" = 5
  dimension "d122" = 15
  dimension "d123" = 5
  dimension "d124" = 4
  dimension "d125" = 15
  dimension "d126" = 5
  dimension "d127" = 5
  dimension "d128" = 15
  dimension "d129" = 5
  dimension "d130" = 4
extrude "Extrusión5" cut sketch "Boceto5" against normal blind 260 contours L27 A3 L28 A2 L31 A0 L36 A1 L35 L38 L49 L47 A5 L48 A4 L44 A6 L42 A7 L41 L50 L39 | L175 L169 L157 A43 L158 A42 L161 A40 L166 A41 L165 L168 L179 L61 A47 L176 A46 L170 A44 L172 A45 L53 | L53 A11 L54 A10 L57 A8 L62 A9 L61 L64 L75 L76 A15 L72 A14 L66 A12 L68 A13 L69 L71 L65 | L69 A27 L106 A26 L109 A24 L114 A25 L76 L116 L127 L128 A31 L124 A30 L118 A28 L120 A29 L121 L123 L117 | L149 L143 L131 A35 L132 A34 L135 A32 L140 A33 L139 L142 L153 L87 A39 L150 A38 L144 A36 L146 A37 L79 | L79 A19 L80 A18 L83 A16 L88 A17 L87 L90 L101 L102 A23 L98 A22 L92 A20 L94 A21 L95 L97 L91
sketch "Boceto6" plane through (0, 970, 0) normal (0, 1, 0) x (1, 0, 0)
  line L0 (-601.5, -120) -> (-601.5, -200) construction
  line L1 (-601.5, -200) -> (-466.5, -200) construction
  line L2 (-466.5, -200) -> (-466.5, -120) construction
  line L3 (-466.5, -120) -> (-366.5, -120) construction
  line L4 (-366.5, -120) -> (-366.5, -200) construction
  line L5 (-366.5, -200) -> (-198.5, -200) construction
  line L6 (-198.5, -200) -> (-198.5, -120) construction
  line L7 (-198.5, -120) -> (-98.5, -120) construction
  line L8 (-98.5, -120) -> (-98.5, -380) construction
  line L9 (-98.5, -380) -> (-198.5, -380) construction
  line L10 (-198.5, -380) -> (-198.5, -300) construction
  line L11 (-198.5, -300) -> (-366.5, -300) construction
  line L12 (-366.5, -300) -> (-366.5, -380) construction
  line L13 (-366.5, -380) -> (-466.5, -380) construction
  line L14 (-466.5, -380) -> (-466.5, -300) construction
  line L15 (-466.5, -300) -> (-601.5, -300) construction
  line L16 (-601.5, -300) -> (-601.5, -380) construction
  line L17 (-601.5, -380) -> (-701.5, -380) construction
  line L18 (-701.5, -380) -> (-701.5, -120) construction
  line L19 (-701.5, -120) -> (-601.5, -120) construction
  line L20 (0, 0) -> (-800, 0) construction
  line L21 (-800, 0) -> (-800, -500) construction
  line L22 (-800, -500) -> (0, -500) construction
  line L23 (0, -500) -> (0, 0) construction
  line L24 (-701.5, -120) -> (-701.5, -380) construction
  line L25 (-701.5, -250) -> (-651.5, -250) construction
  line L26 (-651.5, -250) -> (-416.5, -250) construction
  line L27 (-646.5, -380) -> (-646.5, -120) construction
  line L28 (-651.5, -250) -> (-416.5, -250) construction
  line L29 (-416.5, -250) -> (-148.5, -250) construction
  circle A0 centre (-148.5, -250) radius 30
  circle A1 centre (-416.5, -250) radius 30
  circle A2 centre (-651.5, -250) radius 30
  dimension "d133" = 50
  dimension "d134" = 235
  dimension "d135" = 0
  dimension "d136" = 268
  dimension "d137" = 60
  dimension "d138" = 60
  dimension "d139" = 60
extrude "Extrusión6" add sketch "Boceto6" along normal blind 3
properties part number "Mesa piezas"
